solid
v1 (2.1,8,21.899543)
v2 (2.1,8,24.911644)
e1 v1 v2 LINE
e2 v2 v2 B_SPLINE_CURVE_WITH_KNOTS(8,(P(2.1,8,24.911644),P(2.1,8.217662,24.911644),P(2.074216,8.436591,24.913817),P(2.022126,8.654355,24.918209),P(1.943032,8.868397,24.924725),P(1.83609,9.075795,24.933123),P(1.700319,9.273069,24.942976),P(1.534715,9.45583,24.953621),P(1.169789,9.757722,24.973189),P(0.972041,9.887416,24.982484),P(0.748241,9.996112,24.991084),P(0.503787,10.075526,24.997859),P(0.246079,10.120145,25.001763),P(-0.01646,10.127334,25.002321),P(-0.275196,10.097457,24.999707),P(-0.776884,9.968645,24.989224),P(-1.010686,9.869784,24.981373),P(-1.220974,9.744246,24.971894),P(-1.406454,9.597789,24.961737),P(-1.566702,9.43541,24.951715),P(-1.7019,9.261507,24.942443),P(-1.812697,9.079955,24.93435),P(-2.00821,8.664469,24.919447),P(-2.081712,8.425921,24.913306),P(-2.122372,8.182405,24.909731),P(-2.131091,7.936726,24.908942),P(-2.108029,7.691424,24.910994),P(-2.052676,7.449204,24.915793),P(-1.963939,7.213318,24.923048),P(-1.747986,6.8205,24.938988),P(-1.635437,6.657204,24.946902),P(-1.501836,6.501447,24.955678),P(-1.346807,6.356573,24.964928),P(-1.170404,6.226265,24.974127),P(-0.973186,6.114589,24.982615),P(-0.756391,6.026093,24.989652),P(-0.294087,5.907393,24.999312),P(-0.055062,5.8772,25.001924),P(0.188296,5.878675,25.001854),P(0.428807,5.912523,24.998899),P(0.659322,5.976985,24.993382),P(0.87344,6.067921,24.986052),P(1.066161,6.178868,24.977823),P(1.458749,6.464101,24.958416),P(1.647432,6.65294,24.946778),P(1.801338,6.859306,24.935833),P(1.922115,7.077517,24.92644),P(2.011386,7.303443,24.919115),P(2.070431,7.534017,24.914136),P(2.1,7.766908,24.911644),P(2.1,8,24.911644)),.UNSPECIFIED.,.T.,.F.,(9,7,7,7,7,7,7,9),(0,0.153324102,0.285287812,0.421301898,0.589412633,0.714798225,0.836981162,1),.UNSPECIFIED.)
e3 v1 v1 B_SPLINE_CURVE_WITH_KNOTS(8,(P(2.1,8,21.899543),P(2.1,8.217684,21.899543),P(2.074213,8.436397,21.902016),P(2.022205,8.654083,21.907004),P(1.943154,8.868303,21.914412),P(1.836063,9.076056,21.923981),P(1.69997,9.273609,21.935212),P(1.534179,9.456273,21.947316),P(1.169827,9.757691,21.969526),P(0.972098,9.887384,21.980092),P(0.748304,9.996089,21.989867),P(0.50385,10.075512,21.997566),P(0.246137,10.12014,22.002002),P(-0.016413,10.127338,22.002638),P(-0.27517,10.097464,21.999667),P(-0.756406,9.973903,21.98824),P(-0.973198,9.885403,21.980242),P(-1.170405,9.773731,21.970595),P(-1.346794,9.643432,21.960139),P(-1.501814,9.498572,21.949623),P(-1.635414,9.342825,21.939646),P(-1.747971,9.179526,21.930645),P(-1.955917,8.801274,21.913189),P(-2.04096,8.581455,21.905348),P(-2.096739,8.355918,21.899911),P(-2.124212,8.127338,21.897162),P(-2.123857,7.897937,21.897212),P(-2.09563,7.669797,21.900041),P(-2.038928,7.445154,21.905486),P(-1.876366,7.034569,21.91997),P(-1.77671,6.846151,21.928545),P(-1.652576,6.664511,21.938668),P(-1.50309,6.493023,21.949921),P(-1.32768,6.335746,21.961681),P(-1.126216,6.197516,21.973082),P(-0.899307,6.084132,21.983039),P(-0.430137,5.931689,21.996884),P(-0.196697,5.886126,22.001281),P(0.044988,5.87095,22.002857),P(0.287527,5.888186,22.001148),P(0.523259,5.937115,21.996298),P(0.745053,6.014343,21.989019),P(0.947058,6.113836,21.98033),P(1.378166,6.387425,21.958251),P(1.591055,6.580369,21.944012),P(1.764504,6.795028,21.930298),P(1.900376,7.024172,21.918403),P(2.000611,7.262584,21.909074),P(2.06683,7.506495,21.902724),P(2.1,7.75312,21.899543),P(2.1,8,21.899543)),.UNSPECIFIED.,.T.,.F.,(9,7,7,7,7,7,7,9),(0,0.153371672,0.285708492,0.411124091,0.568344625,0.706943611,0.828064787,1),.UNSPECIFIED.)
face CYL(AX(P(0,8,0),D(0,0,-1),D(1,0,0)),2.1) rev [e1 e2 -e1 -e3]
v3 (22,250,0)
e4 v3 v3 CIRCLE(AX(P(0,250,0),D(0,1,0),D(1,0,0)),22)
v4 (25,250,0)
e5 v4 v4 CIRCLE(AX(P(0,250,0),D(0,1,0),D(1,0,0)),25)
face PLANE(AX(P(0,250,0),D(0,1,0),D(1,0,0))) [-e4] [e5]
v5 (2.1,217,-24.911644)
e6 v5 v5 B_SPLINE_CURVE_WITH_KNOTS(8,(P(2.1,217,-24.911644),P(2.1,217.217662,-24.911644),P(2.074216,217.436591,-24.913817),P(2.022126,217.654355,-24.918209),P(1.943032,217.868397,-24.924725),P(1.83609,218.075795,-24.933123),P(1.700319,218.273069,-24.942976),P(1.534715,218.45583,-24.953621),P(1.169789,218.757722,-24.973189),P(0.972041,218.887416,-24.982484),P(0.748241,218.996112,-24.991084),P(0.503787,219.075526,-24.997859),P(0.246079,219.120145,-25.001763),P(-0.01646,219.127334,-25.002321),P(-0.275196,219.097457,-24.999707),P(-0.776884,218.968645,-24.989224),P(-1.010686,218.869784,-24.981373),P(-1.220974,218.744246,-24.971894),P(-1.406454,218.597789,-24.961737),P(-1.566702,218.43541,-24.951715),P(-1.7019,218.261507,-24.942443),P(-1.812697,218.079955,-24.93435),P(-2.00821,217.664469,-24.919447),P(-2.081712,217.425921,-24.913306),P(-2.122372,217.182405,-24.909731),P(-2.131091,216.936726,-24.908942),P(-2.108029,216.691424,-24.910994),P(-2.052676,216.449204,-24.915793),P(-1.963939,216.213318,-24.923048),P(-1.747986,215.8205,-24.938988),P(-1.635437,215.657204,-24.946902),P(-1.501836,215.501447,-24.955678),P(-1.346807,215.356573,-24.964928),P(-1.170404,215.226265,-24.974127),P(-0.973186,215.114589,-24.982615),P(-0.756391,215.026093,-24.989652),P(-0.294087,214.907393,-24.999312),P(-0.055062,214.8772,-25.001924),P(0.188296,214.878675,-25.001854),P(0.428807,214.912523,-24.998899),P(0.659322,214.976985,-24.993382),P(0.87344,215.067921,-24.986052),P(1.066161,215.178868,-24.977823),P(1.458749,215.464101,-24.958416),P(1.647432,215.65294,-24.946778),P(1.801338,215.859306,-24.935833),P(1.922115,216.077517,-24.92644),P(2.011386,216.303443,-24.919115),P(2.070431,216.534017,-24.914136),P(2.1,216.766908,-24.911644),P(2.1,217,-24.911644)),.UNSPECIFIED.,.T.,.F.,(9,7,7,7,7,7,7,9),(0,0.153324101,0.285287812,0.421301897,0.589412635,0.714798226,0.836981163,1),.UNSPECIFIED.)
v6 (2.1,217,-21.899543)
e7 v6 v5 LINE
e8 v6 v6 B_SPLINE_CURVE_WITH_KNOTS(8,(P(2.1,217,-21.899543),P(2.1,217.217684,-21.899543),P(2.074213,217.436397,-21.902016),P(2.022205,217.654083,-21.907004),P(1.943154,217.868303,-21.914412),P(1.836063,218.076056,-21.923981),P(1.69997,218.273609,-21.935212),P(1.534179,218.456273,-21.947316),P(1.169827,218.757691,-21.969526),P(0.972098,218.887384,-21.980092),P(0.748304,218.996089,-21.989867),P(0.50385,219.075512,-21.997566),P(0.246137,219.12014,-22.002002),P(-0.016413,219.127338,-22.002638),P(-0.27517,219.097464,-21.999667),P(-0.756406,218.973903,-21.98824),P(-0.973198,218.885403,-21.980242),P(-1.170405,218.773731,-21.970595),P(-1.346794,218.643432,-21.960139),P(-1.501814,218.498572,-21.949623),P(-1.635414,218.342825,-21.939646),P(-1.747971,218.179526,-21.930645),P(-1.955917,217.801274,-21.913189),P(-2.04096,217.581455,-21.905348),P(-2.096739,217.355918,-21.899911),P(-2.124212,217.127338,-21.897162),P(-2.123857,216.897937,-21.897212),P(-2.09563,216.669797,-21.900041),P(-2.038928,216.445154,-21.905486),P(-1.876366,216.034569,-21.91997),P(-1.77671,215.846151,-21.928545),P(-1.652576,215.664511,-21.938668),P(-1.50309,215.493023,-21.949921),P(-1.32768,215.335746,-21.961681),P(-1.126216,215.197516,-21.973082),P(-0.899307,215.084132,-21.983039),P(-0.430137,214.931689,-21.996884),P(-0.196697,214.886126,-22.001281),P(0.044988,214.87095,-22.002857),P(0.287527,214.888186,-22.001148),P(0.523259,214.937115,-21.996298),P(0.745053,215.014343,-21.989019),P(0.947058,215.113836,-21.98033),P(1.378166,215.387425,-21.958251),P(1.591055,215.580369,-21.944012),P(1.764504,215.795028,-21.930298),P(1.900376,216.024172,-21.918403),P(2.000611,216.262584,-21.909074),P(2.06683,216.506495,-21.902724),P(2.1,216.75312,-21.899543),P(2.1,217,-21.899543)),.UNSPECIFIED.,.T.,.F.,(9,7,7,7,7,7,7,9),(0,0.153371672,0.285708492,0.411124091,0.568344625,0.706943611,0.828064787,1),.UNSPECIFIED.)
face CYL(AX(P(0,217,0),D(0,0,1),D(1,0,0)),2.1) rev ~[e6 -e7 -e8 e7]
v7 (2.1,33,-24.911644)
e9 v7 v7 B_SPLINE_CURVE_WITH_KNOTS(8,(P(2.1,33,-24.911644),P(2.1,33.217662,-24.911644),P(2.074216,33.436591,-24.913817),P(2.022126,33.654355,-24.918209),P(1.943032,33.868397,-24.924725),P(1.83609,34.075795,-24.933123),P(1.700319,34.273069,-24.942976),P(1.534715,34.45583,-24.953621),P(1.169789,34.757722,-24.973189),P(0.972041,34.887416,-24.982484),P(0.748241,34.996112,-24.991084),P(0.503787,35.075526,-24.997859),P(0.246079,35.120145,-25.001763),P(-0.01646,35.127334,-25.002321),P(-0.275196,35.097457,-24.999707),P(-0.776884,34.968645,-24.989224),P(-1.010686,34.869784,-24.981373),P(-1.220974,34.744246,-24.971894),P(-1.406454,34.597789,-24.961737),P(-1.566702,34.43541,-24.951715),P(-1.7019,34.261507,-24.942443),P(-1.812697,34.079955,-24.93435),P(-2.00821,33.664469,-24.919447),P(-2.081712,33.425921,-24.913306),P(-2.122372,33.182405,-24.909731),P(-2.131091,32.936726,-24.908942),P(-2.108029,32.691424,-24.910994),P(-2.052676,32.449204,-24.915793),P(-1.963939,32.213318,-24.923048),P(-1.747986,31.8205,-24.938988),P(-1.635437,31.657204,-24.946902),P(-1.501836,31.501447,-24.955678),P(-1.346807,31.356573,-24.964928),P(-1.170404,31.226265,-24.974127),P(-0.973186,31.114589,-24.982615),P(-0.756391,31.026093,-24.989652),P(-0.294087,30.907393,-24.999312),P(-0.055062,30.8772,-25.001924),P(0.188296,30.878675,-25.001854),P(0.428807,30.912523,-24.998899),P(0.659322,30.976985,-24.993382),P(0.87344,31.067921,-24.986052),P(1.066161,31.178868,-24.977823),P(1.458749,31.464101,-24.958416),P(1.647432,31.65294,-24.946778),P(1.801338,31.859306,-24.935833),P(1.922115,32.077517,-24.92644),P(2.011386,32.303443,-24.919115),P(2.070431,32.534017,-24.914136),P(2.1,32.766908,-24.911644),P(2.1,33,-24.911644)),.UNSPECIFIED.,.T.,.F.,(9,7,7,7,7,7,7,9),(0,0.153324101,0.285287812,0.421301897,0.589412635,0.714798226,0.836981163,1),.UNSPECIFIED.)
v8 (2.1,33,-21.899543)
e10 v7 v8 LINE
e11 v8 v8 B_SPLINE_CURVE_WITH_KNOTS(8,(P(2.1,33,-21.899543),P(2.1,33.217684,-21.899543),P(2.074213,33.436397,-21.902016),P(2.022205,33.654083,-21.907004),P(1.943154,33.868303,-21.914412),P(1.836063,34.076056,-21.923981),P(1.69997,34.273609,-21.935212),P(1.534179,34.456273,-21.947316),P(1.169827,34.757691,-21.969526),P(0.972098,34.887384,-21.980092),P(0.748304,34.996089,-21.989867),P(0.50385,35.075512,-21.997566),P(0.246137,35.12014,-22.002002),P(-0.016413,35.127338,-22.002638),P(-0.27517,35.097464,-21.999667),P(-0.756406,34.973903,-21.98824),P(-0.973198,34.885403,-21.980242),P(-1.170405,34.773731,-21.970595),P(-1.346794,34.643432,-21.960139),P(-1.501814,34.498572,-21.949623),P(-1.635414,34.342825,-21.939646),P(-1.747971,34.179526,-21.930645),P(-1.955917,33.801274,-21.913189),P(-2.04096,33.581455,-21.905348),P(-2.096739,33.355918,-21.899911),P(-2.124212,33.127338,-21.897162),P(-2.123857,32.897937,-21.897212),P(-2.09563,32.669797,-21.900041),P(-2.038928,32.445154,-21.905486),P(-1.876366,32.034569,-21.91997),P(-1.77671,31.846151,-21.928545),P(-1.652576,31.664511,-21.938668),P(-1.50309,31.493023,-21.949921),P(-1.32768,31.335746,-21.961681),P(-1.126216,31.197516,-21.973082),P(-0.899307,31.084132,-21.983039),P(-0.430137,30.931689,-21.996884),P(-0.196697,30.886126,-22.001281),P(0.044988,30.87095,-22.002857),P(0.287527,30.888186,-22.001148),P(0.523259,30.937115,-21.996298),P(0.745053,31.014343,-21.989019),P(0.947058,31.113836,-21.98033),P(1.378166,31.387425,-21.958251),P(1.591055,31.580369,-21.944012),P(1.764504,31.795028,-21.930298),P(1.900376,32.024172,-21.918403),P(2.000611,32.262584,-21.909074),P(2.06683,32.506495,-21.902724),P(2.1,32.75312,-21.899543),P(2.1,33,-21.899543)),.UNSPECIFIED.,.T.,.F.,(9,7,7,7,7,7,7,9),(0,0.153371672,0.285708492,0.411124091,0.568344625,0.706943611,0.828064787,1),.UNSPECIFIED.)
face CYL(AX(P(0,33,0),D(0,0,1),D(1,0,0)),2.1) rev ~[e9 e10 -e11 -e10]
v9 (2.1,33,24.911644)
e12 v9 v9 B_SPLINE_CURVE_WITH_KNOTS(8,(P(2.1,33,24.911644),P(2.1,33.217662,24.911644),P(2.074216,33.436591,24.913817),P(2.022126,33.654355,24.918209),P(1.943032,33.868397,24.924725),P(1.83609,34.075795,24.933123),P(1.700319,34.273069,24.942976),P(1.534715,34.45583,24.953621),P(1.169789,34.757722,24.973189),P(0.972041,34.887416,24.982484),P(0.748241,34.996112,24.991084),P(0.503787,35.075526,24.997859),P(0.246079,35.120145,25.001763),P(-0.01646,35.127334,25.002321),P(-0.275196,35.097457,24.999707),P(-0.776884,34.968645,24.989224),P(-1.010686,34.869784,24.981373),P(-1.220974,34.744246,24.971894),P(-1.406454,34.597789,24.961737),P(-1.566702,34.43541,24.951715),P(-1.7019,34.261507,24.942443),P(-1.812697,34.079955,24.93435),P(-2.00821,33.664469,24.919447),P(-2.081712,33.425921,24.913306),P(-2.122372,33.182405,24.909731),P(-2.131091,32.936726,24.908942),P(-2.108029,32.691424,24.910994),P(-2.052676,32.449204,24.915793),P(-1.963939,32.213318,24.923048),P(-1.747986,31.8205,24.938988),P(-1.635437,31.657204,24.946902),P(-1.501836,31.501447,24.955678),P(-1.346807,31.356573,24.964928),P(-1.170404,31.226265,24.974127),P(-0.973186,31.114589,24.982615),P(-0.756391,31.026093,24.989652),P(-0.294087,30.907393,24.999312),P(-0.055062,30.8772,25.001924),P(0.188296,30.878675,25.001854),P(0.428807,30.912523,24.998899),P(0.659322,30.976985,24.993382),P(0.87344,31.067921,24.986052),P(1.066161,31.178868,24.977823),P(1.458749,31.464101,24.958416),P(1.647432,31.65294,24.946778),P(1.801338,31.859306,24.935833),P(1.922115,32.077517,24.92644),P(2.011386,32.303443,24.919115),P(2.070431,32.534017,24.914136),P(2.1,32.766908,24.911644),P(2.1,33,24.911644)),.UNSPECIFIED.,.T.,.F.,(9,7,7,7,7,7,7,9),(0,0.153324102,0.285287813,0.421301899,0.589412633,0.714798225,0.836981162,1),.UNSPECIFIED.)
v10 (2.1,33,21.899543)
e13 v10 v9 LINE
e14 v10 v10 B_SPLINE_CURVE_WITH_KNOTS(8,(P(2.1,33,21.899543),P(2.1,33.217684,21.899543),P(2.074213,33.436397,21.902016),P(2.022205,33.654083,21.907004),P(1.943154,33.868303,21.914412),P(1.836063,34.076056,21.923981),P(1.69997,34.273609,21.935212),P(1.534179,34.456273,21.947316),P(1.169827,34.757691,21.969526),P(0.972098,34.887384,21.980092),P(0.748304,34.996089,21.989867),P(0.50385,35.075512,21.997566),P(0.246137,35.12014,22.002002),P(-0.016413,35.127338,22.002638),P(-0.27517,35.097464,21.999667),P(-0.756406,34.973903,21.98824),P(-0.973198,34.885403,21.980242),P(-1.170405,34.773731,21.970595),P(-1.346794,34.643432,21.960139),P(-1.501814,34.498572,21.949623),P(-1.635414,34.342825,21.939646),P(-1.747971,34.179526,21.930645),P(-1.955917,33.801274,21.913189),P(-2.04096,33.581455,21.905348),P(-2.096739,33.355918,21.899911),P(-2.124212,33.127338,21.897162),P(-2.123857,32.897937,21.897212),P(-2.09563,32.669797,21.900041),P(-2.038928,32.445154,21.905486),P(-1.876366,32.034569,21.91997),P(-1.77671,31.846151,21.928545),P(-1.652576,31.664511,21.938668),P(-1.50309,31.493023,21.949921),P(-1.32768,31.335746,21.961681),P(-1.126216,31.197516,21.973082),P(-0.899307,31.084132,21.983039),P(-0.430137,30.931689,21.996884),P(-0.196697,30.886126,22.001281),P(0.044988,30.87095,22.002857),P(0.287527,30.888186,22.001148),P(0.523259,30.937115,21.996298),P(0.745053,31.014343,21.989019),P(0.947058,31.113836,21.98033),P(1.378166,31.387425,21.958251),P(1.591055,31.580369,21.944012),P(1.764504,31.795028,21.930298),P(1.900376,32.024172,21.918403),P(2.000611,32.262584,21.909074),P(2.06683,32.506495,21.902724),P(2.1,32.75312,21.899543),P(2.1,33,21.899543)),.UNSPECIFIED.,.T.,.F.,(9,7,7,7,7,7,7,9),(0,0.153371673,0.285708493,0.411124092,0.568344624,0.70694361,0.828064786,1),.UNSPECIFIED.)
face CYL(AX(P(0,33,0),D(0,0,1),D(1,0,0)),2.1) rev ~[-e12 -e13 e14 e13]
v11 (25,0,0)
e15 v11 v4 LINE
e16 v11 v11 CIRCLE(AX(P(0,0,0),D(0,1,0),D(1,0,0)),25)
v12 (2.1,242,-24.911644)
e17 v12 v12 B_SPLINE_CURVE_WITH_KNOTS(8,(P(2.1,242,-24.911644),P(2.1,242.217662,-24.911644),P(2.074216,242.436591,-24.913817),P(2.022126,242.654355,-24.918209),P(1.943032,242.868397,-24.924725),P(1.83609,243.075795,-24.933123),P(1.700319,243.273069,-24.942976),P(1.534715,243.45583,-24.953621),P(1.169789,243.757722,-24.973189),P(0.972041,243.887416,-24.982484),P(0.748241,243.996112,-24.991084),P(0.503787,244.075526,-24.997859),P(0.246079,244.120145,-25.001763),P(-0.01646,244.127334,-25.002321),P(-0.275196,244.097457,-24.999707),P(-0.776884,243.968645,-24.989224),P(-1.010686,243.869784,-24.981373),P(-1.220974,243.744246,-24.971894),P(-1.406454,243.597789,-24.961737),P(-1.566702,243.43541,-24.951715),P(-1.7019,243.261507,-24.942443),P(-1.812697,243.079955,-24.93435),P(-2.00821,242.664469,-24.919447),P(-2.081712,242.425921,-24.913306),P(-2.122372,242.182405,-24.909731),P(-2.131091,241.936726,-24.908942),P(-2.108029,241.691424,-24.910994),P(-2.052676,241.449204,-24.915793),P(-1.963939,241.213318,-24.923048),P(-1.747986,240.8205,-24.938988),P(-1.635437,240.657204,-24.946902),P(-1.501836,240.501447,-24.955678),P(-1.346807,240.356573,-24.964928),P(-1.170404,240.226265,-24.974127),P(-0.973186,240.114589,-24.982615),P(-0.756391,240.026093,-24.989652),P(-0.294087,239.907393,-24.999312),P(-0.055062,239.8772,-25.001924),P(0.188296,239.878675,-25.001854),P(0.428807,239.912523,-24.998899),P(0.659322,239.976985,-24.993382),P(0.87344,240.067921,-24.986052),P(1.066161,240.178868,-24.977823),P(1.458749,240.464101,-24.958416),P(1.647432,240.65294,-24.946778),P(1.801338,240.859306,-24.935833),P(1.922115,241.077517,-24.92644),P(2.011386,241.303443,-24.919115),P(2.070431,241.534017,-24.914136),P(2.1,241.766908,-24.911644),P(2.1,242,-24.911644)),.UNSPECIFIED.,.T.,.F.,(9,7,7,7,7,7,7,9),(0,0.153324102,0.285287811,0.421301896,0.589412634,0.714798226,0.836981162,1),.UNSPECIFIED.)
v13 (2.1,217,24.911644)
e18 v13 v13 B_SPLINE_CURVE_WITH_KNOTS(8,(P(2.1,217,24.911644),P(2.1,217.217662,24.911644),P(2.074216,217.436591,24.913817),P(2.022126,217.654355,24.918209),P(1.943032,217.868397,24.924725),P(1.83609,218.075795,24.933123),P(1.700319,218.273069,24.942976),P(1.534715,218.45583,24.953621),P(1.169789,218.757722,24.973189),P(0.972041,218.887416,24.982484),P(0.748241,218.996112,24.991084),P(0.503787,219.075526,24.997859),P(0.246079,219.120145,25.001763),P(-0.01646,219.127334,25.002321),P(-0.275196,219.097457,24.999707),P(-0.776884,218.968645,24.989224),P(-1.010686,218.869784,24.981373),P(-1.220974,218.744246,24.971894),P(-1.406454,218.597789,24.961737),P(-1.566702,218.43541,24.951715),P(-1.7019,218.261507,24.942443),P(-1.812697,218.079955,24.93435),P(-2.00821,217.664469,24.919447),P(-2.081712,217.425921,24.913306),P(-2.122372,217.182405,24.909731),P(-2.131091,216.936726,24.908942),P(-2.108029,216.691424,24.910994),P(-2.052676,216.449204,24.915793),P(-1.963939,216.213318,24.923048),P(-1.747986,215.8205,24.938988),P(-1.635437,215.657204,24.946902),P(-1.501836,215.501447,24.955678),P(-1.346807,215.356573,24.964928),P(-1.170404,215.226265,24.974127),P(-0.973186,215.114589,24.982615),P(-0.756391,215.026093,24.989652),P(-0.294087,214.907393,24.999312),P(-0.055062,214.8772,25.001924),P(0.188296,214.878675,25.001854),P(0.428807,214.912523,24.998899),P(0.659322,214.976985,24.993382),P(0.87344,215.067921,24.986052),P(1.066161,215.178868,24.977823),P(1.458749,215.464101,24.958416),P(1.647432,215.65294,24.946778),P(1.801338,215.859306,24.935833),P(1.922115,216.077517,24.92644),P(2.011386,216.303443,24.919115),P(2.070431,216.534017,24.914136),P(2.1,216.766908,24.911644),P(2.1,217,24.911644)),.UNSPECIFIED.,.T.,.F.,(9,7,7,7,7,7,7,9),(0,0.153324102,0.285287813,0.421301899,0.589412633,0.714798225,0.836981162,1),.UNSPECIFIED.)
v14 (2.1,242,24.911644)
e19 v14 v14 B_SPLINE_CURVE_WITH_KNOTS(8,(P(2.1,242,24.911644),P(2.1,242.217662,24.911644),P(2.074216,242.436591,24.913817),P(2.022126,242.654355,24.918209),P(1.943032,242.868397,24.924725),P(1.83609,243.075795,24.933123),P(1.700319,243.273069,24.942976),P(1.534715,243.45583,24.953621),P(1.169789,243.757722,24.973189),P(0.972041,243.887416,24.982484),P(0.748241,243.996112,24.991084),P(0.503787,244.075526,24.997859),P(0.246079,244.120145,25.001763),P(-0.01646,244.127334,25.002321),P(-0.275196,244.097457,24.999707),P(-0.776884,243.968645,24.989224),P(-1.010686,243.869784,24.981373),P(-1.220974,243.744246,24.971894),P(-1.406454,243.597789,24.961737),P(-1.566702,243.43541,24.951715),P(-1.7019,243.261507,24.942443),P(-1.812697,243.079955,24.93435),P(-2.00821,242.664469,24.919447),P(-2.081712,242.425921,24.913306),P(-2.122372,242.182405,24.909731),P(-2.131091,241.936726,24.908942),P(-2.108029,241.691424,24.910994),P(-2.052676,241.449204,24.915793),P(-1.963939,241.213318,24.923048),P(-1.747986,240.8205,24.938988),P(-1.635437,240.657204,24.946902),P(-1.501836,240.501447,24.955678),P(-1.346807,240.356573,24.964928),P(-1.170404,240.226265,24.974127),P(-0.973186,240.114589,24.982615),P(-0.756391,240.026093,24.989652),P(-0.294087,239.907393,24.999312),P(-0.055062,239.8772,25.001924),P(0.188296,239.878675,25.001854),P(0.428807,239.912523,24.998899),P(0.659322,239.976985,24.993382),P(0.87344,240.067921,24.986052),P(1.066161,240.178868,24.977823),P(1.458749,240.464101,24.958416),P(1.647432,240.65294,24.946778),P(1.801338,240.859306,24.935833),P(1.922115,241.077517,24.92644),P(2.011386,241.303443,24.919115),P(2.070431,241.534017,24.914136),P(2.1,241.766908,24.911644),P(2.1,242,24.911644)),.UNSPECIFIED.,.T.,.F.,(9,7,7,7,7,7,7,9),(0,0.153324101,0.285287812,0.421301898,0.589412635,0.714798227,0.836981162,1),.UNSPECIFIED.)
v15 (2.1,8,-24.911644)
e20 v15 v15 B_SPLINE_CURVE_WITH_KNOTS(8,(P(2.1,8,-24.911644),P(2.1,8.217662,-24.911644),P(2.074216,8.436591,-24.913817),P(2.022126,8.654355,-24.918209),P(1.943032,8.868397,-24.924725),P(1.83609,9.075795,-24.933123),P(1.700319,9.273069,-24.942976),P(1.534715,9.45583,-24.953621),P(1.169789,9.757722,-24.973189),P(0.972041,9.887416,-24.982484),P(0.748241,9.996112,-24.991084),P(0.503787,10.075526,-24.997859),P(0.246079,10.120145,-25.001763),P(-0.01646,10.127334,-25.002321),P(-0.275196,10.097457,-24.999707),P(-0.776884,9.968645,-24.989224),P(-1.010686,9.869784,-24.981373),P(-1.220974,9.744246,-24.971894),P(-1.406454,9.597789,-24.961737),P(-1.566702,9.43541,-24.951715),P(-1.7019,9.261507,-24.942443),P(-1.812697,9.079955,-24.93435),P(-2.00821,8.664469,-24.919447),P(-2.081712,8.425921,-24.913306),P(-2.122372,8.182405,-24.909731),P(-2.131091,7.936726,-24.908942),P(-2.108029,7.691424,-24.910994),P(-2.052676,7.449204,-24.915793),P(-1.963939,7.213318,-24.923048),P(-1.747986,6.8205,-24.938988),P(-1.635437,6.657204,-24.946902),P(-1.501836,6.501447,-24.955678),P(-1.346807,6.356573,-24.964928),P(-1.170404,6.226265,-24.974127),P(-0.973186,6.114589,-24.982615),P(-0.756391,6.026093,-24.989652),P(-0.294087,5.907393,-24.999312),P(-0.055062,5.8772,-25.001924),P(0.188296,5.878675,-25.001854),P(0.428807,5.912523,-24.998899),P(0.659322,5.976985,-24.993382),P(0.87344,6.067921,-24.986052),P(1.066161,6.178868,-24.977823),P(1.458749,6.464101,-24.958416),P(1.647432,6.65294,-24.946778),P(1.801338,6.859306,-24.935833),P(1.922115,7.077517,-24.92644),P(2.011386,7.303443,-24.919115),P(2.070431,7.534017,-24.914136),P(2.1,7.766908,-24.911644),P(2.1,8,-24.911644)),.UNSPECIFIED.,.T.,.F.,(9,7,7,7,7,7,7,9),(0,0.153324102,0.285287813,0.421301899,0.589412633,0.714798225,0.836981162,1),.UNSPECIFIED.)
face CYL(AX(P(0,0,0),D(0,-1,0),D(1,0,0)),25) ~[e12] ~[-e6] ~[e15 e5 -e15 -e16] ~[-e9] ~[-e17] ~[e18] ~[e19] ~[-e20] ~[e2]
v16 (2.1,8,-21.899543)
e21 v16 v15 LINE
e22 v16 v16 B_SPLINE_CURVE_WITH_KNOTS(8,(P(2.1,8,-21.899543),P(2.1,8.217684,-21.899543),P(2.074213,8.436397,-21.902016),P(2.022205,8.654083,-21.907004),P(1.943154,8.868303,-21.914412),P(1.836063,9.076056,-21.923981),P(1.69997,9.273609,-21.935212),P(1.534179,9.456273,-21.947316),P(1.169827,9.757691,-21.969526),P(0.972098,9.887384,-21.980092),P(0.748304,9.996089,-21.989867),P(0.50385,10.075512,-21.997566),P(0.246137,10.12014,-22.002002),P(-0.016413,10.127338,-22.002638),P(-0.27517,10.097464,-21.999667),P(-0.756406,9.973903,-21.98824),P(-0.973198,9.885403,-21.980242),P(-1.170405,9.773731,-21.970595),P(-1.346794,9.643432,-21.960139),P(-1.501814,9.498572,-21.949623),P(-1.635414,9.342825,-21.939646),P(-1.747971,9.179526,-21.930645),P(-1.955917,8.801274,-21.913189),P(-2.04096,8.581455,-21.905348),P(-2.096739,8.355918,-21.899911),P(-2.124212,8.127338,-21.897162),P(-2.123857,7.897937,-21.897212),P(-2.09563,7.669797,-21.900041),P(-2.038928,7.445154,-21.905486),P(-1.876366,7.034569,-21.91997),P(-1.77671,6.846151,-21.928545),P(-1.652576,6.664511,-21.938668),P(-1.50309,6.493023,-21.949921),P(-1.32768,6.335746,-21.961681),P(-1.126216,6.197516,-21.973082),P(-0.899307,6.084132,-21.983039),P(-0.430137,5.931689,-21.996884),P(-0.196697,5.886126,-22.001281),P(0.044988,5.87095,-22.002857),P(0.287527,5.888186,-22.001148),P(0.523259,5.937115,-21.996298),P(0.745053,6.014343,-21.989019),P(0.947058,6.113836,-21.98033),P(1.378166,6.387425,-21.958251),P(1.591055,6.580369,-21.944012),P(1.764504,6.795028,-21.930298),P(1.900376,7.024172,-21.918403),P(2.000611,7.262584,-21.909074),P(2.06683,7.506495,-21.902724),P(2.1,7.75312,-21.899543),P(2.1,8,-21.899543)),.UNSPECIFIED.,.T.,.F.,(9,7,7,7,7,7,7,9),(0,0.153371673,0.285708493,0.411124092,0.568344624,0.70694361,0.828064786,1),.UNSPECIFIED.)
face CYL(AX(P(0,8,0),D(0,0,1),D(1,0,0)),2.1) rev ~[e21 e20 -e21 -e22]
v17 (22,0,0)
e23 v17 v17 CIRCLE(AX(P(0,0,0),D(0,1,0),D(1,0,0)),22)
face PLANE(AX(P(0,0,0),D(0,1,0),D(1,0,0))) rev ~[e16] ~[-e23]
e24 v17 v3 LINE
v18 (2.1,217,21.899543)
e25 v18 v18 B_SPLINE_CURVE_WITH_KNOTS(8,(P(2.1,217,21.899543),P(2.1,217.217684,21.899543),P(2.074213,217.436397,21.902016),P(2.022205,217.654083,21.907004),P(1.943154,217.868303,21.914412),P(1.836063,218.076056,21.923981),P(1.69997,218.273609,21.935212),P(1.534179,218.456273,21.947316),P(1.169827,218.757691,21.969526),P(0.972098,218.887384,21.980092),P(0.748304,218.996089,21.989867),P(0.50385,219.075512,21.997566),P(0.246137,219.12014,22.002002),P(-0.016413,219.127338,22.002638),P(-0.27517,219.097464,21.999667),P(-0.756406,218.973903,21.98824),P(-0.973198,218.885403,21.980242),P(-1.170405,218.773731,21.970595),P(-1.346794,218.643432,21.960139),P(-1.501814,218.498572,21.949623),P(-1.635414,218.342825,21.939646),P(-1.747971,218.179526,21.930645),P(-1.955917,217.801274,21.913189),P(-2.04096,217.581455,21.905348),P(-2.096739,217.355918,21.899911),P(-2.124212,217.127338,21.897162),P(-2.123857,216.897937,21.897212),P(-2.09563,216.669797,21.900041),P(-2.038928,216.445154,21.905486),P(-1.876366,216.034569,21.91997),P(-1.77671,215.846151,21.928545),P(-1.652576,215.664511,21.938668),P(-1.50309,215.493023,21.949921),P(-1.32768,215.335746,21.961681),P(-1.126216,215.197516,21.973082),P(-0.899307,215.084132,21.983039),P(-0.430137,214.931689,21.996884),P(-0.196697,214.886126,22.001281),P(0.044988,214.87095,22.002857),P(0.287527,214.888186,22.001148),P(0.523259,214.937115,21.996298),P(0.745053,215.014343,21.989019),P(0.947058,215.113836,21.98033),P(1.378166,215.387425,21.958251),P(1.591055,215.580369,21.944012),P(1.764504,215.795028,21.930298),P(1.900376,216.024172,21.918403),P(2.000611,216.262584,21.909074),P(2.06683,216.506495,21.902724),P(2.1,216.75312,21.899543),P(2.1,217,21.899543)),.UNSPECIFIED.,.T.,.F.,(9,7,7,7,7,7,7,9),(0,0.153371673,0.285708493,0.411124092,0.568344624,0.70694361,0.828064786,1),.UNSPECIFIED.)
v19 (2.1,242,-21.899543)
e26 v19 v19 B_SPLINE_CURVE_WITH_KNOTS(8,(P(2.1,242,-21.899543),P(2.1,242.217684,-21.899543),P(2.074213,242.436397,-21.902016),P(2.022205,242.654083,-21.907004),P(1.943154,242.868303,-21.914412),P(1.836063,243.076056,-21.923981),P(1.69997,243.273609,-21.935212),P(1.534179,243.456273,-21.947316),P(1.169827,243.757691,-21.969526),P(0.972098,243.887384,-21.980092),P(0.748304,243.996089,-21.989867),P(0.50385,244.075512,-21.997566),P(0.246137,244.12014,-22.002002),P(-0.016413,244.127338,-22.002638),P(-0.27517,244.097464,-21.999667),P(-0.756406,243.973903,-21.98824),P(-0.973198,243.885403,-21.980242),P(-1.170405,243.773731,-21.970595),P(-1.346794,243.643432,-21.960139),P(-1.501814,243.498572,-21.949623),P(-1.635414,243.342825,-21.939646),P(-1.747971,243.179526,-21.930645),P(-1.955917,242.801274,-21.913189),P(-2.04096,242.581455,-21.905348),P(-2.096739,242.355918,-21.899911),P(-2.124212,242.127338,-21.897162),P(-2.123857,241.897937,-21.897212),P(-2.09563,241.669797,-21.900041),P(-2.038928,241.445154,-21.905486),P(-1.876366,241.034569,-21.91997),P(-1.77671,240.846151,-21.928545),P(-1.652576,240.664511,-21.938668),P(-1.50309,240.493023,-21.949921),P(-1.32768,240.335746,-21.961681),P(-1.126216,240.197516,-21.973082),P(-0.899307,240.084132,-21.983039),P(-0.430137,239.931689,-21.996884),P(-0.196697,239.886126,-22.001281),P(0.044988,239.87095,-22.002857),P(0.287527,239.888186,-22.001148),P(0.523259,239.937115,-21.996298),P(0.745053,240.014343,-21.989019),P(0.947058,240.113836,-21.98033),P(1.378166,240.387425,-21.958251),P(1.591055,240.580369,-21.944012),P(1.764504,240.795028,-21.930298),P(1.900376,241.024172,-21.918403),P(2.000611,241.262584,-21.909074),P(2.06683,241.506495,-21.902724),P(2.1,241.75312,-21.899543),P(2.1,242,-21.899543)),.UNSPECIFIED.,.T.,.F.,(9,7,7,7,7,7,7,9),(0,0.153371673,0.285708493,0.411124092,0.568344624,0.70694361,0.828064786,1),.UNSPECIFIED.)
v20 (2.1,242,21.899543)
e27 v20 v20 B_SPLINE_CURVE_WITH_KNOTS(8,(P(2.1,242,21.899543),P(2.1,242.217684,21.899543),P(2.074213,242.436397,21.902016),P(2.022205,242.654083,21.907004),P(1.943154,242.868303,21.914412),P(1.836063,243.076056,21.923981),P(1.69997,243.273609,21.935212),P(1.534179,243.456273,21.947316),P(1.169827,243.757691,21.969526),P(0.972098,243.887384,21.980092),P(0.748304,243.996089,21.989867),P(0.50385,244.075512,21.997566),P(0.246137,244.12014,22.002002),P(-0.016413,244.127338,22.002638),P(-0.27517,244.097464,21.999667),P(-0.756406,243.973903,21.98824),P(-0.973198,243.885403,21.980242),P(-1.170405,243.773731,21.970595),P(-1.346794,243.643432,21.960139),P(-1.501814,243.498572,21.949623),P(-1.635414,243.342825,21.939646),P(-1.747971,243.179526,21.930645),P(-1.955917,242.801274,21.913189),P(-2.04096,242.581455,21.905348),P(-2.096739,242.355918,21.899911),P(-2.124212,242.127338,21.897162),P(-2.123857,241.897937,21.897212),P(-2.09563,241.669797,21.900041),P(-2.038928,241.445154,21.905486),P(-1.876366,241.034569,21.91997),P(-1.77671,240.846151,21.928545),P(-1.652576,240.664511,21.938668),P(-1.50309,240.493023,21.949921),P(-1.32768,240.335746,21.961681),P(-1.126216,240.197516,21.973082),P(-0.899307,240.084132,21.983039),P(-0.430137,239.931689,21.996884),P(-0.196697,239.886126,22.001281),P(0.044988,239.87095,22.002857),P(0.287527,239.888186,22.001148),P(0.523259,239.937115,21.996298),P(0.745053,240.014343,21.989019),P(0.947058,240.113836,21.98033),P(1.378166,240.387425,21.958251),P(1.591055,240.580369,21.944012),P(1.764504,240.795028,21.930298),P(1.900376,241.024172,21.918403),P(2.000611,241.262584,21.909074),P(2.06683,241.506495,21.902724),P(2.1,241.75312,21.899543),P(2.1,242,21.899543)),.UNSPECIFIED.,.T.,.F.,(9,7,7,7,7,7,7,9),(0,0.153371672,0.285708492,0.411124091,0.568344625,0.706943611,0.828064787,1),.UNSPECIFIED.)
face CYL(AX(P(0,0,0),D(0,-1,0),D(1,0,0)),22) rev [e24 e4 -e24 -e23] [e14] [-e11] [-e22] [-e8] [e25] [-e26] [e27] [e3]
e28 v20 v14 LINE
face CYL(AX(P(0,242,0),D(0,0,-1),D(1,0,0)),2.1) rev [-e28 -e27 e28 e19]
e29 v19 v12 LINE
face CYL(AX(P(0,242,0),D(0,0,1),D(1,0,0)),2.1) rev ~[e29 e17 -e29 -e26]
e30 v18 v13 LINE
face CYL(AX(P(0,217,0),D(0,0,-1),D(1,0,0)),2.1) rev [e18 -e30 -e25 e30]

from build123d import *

# Parameters (mm, degrees)
SKETCH_1_R          = 25
SKETCH_1_R_2        = 22
EXTRUDE_1_DEPTH     = 250
SKETCH_6_R          = 2.1
CUT_EXTRUDE_2_DEPTH = 30


with BuildPart() as part:
    # 草图1 → 拉伸-薄壁1 (new body)
    with BuildSketch(Plane(origin=(0, 0, 0), x_dir=(1, 0, 0), z_dir=(0, 1, 0))):
        Circle(SKETCH_1_R)
        Circle(SKETCH_1_R_2, mode=Mode.SUBTRACT)
    extrude(amount=EXTRUDE_1_DEPTH)

    # 草图6 → 切除-拉伸2 (cut, symmetric)
    with BuildSketch(Plane.XY):
        with Locations((0, 242)):
            Circle(SKETCH_6_R)
        with Locations((0, 8)):
            Circle(SKETCH_6_R)
        with Locations((0, 217)):
            Circle(SKETCH_6_R)
        with Locations((0, 33)):
            Circle(SKETCH_6_R)
    extrude(amount=CUT_EXTRUDE_2_DEPTH, both=True, mode=Mode.SUBTRACT)


solid = part.part
